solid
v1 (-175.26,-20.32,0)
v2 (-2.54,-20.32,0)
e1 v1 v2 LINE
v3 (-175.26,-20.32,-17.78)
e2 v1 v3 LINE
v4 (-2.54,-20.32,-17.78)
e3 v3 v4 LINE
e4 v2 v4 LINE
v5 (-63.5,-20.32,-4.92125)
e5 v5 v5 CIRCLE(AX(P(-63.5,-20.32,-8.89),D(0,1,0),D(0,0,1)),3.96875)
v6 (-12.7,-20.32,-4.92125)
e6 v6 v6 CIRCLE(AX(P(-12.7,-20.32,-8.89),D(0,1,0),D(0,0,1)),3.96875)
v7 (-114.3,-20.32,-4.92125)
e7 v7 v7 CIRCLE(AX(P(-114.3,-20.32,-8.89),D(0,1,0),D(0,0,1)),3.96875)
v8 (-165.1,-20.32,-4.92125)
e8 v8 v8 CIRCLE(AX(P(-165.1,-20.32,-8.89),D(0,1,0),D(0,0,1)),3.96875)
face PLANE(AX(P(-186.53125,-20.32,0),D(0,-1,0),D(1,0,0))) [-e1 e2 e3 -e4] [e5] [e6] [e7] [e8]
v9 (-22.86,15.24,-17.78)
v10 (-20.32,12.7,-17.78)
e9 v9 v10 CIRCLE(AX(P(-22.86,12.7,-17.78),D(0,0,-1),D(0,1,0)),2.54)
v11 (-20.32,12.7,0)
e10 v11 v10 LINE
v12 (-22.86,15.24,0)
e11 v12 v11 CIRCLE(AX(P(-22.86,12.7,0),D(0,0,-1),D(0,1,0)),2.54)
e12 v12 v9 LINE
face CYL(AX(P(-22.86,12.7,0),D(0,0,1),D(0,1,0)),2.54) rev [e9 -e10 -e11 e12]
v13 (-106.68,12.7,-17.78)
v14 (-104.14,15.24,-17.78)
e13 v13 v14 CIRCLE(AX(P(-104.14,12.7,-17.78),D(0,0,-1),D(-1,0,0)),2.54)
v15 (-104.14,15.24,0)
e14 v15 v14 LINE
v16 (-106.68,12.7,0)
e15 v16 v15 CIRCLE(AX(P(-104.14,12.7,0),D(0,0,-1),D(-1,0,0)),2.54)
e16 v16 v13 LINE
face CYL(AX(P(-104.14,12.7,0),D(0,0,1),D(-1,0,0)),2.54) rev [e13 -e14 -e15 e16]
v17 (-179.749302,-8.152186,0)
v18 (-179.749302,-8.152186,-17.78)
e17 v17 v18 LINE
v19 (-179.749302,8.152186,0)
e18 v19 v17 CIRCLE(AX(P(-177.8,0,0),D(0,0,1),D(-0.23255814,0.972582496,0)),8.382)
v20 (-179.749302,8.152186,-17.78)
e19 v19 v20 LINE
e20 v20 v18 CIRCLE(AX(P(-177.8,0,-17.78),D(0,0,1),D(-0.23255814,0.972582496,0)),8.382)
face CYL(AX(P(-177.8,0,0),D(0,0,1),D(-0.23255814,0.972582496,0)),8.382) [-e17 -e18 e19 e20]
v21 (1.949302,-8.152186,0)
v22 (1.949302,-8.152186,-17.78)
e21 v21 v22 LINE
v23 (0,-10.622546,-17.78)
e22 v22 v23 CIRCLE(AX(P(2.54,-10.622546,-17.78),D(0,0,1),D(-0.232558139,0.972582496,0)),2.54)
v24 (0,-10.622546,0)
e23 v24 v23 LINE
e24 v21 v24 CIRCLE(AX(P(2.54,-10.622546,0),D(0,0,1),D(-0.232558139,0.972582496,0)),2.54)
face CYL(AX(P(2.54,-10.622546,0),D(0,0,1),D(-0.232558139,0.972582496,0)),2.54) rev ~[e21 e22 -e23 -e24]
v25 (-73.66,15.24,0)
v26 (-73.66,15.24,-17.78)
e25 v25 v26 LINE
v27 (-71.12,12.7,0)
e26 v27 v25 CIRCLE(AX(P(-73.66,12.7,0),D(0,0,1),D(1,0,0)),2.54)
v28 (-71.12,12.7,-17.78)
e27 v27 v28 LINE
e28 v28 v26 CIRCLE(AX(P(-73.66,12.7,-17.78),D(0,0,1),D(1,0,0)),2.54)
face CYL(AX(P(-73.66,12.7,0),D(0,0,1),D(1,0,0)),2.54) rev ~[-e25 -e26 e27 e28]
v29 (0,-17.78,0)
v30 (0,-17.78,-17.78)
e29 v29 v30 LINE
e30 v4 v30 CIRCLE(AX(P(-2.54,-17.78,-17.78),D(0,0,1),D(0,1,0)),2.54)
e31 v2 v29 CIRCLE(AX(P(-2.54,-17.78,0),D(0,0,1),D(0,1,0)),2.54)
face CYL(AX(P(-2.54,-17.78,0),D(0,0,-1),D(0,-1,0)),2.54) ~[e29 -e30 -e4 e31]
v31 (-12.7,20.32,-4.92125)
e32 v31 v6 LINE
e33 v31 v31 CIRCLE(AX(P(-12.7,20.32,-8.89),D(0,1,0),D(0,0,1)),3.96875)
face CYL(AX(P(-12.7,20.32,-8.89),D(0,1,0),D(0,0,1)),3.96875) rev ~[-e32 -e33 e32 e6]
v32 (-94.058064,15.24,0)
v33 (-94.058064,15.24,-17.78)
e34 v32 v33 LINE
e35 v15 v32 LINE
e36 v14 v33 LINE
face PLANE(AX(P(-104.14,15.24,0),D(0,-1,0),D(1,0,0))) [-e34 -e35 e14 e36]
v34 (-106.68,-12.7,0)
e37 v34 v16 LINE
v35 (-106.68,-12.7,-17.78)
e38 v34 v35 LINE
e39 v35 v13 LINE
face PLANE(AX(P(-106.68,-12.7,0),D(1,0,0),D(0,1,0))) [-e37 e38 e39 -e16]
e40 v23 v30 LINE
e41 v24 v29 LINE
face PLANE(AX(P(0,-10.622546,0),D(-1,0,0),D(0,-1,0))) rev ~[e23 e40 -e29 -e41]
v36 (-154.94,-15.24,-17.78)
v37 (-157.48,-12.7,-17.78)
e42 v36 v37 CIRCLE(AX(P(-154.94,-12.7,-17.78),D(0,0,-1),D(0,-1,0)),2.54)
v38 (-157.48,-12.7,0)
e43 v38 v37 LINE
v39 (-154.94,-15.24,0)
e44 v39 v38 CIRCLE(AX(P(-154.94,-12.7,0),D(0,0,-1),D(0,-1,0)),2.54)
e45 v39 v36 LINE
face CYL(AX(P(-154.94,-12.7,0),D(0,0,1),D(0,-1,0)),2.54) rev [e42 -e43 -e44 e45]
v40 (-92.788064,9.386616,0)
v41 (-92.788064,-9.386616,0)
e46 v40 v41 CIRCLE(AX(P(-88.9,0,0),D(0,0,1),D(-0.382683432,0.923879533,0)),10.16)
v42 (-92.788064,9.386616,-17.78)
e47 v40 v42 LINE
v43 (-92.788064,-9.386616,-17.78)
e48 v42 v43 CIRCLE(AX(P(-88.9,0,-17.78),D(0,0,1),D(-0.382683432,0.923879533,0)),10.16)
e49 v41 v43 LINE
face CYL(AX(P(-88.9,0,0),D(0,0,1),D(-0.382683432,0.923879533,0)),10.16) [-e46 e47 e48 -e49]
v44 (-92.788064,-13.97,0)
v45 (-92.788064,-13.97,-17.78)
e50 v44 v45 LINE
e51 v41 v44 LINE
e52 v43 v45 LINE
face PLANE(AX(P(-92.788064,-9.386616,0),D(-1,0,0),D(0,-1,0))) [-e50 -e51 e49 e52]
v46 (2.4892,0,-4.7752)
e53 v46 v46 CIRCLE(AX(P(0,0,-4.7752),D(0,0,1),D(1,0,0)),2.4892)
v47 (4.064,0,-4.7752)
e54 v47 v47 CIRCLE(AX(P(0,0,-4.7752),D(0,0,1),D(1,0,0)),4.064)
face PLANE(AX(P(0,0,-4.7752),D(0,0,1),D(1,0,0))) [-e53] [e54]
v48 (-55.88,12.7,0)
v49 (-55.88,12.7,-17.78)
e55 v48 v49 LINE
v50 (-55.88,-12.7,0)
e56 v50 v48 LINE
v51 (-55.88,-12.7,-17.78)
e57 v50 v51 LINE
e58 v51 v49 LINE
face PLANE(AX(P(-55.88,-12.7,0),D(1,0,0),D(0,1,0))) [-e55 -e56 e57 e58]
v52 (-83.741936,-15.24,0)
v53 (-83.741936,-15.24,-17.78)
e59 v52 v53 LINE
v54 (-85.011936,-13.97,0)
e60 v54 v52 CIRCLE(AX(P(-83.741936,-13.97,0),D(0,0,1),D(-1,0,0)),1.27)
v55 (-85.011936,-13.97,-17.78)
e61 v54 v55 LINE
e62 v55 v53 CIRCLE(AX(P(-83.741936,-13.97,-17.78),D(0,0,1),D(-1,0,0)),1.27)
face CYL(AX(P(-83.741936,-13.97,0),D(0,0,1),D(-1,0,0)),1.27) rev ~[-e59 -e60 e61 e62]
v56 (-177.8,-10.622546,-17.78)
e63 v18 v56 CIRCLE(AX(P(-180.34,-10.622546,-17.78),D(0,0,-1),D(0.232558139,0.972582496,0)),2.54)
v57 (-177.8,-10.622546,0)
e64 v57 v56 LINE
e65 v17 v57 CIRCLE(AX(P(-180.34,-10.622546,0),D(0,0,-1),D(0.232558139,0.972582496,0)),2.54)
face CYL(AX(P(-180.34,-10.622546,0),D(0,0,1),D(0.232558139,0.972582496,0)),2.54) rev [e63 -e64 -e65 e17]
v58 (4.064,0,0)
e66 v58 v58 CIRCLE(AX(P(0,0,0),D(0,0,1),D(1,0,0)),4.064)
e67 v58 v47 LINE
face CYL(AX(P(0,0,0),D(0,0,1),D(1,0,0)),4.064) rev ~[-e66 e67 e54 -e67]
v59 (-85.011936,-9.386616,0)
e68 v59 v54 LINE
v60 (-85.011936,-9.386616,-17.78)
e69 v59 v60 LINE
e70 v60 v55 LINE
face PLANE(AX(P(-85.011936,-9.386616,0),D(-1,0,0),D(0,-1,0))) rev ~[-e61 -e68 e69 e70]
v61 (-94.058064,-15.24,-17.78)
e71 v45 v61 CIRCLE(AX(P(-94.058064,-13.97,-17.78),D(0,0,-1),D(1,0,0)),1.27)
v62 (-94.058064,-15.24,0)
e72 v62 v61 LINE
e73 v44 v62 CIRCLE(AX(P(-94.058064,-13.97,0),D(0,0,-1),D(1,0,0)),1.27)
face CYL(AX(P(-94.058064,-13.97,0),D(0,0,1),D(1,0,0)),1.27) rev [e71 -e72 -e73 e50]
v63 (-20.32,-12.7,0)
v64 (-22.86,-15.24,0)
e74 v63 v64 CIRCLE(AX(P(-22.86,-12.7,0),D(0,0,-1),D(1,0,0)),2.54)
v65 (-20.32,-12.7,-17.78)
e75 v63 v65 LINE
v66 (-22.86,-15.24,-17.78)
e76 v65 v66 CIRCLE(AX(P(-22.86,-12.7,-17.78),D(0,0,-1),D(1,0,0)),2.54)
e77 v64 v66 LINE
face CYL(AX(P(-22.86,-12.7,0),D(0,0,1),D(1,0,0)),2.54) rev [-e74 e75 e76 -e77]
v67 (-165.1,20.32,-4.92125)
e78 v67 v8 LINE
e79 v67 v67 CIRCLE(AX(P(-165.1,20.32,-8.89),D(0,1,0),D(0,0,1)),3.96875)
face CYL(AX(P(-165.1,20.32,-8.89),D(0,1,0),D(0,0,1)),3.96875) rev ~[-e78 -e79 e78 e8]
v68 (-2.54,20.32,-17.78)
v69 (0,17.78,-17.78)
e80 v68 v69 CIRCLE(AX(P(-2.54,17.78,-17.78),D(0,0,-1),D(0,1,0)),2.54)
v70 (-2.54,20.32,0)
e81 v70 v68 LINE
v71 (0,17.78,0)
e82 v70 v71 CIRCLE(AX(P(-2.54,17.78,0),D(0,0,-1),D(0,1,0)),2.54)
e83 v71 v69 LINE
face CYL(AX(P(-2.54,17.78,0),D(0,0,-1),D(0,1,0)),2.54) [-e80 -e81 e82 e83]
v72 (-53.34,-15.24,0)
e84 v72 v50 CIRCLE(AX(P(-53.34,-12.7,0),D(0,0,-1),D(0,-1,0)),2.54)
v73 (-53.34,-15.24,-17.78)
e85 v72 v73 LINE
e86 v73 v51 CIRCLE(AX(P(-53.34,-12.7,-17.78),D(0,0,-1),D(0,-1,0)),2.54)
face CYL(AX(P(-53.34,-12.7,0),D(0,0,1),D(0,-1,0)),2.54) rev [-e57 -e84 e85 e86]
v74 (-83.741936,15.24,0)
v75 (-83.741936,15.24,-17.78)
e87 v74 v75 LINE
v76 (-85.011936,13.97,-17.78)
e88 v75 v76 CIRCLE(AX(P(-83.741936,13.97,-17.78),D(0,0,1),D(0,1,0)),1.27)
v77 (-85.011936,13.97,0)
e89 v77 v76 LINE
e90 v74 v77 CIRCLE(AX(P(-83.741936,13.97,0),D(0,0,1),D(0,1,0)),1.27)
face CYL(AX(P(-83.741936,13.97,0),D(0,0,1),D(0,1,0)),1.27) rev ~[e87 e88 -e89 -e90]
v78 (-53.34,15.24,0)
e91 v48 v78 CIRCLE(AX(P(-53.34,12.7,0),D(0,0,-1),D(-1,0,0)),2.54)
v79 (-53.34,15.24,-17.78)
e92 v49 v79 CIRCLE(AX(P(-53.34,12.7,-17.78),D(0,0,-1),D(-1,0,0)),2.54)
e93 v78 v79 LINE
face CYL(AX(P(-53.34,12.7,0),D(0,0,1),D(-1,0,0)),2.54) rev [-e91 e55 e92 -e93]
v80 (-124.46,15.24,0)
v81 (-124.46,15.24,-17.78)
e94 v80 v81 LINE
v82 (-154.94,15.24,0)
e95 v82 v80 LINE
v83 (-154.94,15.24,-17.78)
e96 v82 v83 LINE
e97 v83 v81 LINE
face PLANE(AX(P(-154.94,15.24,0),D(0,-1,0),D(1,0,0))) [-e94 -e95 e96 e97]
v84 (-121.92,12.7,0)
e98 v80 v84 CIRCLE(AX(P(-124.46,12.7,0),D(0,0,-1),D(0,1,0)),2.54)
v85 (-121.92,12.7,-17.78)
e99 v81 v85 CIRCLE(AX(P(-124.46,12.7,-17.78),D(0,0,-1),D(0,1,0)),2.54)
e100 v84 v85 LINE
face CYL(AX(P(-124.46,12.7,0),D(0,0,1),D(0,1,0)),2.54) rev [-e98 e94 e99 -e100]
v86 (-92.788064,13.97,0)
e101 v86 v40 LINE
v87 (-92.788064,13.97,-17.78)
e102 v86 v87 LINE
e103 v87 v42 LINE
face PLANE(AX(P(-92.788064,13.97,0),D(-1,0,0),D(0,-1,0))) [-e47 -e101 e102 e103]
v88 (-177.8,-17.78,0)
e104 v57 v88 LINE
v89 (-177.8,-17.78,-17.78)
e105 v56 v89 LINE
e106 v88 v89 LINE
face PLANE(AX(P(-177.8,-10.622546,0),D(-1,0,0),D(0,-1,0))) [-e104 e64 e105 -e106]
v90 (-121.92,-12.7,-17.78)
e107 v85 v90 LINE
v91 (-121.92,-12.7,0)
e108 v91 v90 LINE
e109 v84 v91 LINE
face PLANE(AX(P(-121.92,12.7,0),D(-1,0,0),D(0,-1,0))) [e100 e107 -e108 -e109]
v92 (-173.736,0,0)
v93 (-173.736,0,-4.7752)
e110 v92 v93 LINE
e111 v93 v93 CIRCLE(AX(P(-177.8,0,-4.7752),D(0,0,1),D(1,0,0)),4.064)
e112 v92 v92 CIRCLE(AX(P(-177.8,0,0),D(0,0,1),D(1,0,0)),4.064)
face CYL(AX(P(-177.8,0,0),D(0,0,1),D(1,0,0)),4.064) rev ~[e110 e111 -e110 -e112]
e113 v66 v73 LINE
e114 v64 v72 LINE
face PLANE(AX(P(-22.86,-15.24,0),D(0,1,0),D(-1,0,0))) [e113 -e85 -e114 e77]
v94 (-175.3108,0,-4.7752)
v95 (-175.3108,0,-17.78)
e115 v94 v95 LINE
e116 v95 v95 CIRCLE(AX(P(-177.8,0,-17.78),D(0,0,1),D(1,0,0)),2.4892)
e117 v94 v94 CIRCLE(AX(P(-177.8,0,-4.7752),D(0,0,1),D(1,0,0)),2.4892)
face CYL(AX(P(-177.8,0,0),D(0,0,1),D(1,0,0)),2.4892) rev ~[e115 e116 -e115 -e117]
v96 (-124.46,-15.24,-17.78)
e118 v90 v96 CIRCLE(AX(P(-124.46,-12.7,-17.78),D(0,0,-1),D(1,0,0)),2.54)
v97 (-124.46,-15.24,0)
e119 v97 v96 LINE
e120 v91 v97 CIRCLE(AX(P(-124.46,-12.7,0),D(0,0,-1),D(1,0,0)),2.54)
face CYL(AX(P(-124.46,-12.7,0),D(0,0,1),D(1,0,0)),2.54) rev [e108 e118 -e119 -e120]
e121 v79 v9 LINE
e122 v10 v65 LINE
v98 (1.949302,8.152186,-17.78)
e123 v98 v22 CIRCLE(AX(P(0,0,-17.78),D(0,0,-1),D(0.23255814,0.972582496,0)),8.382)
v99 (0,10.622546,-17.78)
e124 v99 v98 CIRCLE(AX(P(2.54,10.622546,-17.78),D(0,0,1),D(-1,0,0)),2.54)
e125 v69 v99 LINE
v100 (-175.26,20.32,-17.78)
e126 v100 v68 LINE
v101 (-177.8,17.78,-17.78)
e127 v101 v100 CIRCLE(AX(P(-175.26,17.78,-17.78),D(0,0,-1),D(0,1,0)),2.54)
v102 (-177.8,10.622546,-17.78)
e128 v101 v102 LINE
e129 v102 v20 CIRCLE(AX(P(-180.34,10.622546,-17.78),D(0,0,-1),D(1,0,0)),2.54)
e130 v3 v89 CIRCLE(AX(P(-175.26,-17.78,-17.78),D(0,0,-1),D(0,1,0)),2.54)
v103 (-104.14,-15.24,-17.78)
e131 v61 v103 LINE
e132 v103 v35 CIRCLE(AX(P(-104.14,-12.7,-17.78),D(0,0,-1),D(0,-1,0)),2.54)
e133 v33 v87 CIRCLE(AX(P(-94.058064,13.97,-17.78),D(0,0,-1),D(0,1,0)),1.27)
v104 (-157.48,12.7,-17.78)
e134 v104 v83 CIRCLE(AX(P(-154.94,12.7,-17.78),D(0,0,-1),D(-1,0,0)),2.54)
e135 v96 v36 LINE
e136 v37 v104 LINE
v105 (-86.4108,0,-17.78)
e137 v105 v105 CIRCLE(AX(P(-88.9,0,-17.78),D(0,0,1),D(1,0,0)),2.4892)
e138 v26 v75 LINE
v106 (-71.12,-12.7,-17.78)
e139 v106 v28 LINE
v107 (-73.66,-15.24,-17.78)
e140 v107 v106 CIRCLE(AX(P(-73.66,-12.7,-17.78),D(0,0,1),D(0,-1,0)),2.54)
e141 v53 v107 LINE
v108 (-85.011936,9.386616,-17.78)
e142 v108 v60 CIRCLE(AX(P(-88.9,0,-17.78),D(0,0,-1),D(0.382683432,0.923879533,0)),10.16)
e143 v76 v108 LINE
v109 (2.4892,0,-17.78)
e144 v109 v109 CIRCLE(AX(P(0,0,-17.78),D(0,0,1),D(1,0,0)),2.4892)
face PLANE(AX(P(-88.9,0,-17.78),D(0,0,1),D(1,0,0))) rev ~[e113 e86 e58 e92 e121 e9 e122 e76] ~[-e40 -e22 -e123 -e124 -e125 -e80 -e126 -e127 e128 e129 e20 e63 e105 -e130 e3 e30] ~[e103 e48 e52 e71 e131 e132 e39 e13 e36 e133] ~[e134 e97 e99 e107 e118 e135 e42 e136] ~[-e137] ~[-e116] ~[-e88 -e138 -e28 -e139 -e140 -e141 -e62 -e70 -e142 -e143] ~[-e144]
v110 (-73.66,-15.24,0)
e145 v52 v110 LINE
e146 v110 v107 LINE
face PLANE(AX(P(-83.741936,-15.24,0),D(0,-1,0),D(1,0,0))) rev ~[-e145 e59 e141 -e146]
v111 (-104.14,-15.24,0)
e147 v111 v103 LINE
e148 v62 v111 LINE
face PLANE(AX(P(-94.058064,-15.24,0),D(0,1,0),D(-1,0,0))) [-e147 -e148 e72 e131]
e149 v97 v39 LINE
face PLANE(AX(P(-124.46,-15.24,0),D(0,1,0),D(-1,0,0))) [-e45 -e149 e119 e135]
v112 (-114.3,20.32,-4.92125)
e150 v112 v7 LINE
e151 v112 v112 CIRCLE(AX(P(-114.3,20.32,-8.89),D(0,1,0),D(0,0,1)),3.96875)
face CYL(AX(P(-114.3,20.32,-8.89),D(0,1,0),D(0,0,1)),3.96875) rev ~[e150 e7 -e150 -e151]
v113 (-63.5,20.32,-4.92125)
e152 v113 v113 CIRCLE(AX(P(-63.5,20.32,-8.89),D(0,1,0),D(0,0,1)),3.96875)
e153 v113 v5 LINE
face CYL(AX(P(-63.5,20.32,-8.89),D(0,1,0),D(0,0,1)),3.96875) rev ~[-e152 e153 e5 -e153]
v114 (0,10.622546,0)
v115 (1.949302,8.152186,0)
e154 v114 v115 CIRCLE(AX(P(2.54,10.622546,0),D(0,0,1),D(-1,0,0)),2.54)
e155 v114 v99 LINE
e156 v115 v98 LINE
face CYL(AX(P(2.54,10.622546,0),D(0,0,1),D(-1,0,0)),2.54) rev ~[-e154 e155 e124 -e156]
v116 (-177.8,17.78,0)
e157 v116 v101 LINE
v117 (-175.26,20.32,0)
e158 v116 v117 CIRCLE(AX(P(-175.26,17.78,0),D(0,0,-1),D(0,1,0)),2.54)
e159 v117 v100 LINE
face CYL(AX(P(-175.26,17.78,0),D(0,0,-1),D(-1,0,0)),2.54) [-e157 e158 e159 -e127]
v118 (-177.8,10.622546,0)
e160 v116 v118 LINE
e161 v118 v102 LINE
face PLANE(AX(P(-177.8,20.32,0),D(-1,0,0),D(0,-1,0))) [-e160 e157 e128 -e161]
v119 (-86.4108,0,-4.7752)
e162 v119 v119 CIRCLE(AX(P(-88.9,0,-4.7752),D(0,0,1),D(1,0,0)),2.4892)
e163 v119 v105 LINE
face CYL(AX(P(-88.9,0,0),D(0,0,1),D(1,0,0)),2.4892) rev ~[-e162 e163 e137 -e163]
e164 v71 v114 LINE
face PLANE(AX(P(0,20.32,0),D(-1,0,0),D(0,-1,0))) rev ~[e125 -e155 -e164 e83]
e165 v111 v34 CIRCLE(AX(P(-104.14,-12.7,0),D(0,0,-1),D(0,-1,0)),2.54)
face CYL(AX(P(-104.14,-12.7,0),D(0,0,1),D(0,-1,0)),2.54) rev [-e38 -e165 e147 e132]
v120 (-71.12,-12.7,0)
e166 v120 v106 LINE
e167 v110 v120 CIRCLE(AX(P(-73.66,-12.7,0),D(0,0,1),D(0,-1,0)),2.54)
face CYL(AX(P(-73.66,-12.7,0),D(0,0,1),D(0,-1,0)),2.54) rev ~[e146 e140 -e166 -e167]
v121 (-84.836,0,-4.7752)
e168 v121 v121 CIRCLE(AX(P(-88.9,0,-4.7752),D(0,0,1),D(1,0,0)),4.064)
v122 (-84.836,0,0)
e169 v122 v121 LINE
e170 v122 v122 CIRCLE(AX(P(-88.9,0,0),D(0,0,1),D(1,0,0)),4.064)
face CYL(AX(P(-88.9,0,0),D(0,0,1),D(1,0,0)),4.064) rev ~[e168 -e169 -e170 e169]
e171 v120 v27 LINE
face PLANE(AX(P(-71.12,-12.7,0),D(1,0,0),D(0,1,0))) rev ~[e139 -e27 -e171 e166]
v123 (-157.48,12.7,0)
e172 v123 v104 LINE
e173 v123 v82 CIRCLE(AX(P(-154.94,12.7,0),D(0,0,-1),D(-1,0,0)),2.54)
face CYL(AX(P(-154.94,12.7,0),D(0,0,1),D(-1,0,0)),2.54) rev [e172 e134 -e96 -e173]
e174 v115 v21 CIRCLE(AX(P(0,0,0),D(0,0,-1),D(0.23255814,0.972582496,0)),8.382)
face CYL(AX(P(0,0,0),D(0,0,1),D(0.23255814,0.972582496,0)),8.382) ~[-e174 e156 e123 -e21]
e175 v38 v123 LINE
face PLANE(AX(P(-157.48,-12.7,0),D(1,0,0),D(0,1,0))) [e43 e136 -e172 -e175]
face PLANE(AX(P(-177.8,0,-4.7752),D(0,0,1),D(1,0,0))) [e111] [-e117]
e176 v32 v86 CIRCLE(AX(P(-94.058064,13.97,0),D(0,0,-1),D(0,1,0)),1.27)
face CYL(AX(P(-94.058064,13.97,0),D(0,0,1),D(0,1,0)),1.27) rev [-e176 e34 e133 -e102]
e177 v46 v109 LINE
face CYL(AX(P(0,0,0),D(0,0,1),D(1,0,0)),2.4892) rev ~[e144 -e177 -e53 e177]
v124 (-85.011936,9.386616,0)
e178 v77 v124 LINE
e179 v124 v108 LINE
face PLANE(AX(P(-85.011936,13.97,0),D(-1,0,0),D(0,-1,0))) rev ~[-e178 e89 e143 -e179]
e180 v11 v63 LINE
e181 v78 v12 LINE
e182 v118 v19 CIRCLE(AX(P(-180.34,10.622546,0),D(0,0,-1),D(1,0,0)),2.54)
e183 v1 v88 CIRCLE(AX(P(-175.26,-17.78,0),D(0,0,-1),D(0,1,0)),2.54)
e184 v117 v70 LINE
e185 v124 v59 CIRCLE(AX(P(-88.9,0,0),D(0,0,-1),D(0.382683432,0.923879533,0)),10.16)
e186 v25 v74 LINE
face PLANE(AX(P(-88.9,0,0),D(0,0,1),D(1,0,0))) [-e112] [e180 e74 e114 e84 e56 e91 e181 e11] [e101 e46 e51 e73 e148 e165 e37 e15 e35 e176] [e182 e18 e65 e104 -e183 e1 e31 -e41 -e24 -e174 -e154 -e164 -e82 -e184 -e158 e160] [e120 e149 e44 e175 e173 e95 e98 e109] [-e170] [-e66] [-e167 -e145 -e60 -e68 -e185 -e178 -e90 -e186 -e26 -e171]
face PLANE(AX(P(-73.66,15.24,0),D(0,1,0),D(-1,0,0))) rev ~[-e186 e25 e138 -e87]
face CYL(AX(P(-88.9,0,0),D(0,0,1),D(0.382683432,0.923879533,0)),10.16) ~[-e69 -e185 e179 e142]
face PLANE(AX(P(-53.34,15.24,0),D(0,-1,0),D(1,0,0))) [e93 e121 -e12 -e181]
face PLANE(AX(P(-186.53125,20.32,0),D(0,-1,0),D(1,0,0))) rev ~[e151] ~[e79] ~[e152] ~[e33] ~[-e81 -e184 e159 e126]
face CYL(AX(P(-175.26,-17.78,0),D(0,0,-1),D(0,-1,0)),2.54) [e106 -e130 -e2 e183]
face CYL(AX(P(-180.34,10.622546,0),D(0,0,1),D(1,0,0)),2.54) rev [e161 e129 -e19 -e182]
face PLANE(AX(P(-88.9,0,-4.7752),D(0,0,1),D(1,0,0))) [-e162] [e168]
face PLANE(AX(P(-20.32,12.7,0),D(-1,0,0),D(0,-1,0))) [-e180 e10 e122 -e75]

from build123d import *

# Parameters (mm, degrees)
SKETCH1_W           = 195.2625
SKETCH1_H           = 40.64
SKETCH1_R           = 2.4892
BOSS_EXTRUDE1_DEPTH = 17.78
SKETCH2_R           = 3.96875
CUT_EXTRUDE1_DEPTH  = 40.64
SKETCH3_R           = 4.064
CUT_EXTRUDE2_DEPTH  = 4.7752
CUT_EXTRUDE3_DEPTH  = 17.78
FILLET1_R           = 2.54


with BuildPart() as part:
    # Sketch1 → Boss-Extrude1 (new body)
    with BuildSketch(Plane.XY):
        with Locations((-88.9, 0)):
            Rectangle(SKETCH1_W, SKETCH1_H)
        Circle(SKETCH1_R, mode=Mode.SUBTRACT)
        with Locations((-177.8, 0)):
            Circle(SKETCH1_R, mode=Mode.SUBTRACT)
        with Locations((-88.9, 0)):
            Circle(SKETCH1_R, mode=Mode.SUBTRACT)
    extrude(amount=-BOSS_EXTRUDE1_DEPTH)

    # Sketch2 → Cut-Extrude1 (cut)
    with BuildSketch(Plane(origin=(0, 20.32, 0), x_dir=(1, 0, 0), z_dir=(0, 1, 0))):
        with Locations(Location((-12.7, 8.89, 0), (0, 0, 270))):
            Circle(SKETCH2_R)
        with Locations(Location((-63.5, 8.89, 0), (0, 0, 270))):
            Circle(SKETCH2_R)
        with Locations(Location((-114.3, 8.89, 0), (0, 0, 270))):
            Circle(SKETCH2_R)
        with Locations(Location((-165.1, 8.89, 0), (0, 0, 270))):
            Circle(SKETCH2_R)
    extrude(amount=-CUT_EXTRUDE1_DEPTH, mode=Mode.SUBTRACT)

    # Sketch3 → Cut-Extrude2 (cut)
    with BuildSketch(Plane.XY):
        Circle(SKETCH3_R)
        with Locations((-88.9, 0)):
            Circle(SKETCH3_R)
        with Locations((-177.8, 0)):
            Circle(SKETCH3_R)
    extrude(amount=-CUT_EXTRUDE2_DEPTH, mode=Mode.SUBTRACT)

    # Sketch5 → Cut-Extrude3 (cut)
    with BuildSketch(Plane.XY):
        with BuildLine():
            Line((0, -20.32), (8.73125, -20.32))
            Line((8.73125, -20.32), (8.73125, 20.32))
            Line((8.73125, 20.32), (0, 20.32))
            Line((0, 20.32), (0, 10.622546022))
            ThreePointArc((0, 10.622546022), (0.546012526, 9.049137635), (1.949302326, 8.152186482))
            ThreePointArc((1.949302326, 8.152186482), (8.382, 0), (1.949302326, -8.152186482))
            ThreePointArc((1.949302326, -8.152186482), (0.546012526, -9.049137635), (0, -10.622546022))
            Line((0, -10.622546022), (0, -20.32))
        make_face()
        with BuildLine():
            Line((-22.86, -15.24), (-53.34, -15.24))
            ThreePointArc((-53.34, -15.24), (-55.136051224, -14.496051224), (-55.88, -12.7))
            Line((-55.88, -12.7), (-55.88, 12.7))
            ThreePointArc((-55.88, 12.7), (-55.136051224, 14.496051224), (-53.34, 15.24))
            Line((-53.34, 15.24), (-22.86, 15.24))
            ThreePointArc((-22.86, 15.24), (-21.063948776, 14.496051224), (-20.32, 12.7))
            Line((-20.32, 12.7), (-20.32, -12.7))
            ThreePointArc((-20.32, -12.7), (-21.063948776, -14.496051224), (-22.86, -15.24))
        make_face()
        with BuildLine():
            Line((-85.011936327, -9.38661605), (-85.011936327, -13.97))
            ThreePointArc((-85.011936327, -13.97), (-84.639961939, -14.868025612), (-83.741936327, -15.24))
            Line((-83.741936327, -15.24), (-73.66, -15.24))
            ThreePointArc((-73.66, -15.24), (-71.863948776, -14.496051224), (-71.12, -12.7))
            Line((-71.12, -12.7), (-71.12, 12.7))
            ThreePointArc((-71.12, 12.7), (-71.863948776, 14.496051224), (-73.66, 15.24))
            Line((-73.66, 15.24), (-83.741936327, 15.24))
            ThreePointArc((-83.741936327, 15.24), (-84.639961939, 14.868025612), (-85.011936327, 13.97))
            Line((-85.011936327, 13.97), (-85.011936327, 9.38661605))
            ThreePointArc((-85.011936327, 9.38661605), (-78.74, 0), (-85.011936327, -9.38661605))
        make_face()
        with BuildLine():
            Line((-104.14, 15.24), (-94.058063673, 15.24))
            ThreePointArc((-94.058063673, 15.24), (-93.160038061, 14.868025612), (-92.788063673, 13.97))
            Line((-92.788063673, 13.97), (-92.788063673, 9.38661605))
            ThreePointArc((-92.788063673, 9.38661605), (-99.06, 0), (-92.788063673, -9.38661605))
            Line((-92.788063673, -9.38661605), (-92.788063673, -13.97))
            ThreePointArc((-92.788063673, -13.97), (-93.160038061, -14.868025612), (-94.058063673, -15.24))
            Line((-94.058063673, -15.24), (-104.14, -15.24))
            ThreePointArc((-104.14, -15.24), (-105.936051224, -14.496051224), (-106.68, -12.7))
            Line((-106.68, -12.7), (-106.68, 12.7))
            ThreePointArc((-106.68, 12.7), (-105.936051224, 14.496051224), (-104.14, 15.24))
        make_face()
        with BuildLine():
            Line((-154.94, 15.24), (-124.46, 15.24))
            ThreePointArc((-124.46, 15.24), (-122.663948776, 14.496051224), (-121.92, 12.7))
            Line((-121.92, 12.7), (-121.92, -12.7))
            ThreePointArc((-121.92, -12.7), (-122.663948776, -14.496051224), (-124.46, -15.24))
            Line((-124.46, -15.24), (-154.94, -15.24))
            ThreePointArc((-154.94, -15.24), (-156.736051224, -14.496051224), (-157.48, -12.7))
            Line((-157.48, -12.7), (-157.48, 12.7))
            ThreePointArc((-157.48, 12.7), (-156.736051224, 14.496051224), (-154.94, 15.24))
        make_face()
        with BuildLine():
            Line((-186.53125, -20.32), (-186.53125, 20.32))
            Line((-186.53125, 20.32), (-177.8, 20.32))
            Line((-177.8, 20.32), (-177.8, 10.622546022))
            ThreePointArc((-177.8, 10.622546022), (-178.346012526, 9.049137635), (-179.749302326, 8.152186482))
            ThreePointArc((-179.749302326, 8.152186482), (-186.182, 0), (-179.749302326, -8.152186482))
            ThreePointArc((-179.749302326, -8.152186482), (-178.346012526, -9.049137635), (-177.8, -10.622546022))
            Line((-177.8, -10.622546022), (-177.8, -20.32))
            Line((-177.8, -20.32), (-186.53125, -20.32))
        make_face()
    extrude(amount=-CUT_EXTRUDE3_DEPTH, mode=Mode.SUBTRACT)

    # Fillet1
    fillet1_edges = [part.edges().sort_by_distance(p)[0] for p in [
        (0, 20.32, -8.89),
        (0, -20.32, -8.89),
        (-177.8, -20.32, -8.89),
        (-177.8, 20.32, -8.89),
    ]]
    fillet(fillet1_edges, radius=FILLET1_R)


solid = part.part
